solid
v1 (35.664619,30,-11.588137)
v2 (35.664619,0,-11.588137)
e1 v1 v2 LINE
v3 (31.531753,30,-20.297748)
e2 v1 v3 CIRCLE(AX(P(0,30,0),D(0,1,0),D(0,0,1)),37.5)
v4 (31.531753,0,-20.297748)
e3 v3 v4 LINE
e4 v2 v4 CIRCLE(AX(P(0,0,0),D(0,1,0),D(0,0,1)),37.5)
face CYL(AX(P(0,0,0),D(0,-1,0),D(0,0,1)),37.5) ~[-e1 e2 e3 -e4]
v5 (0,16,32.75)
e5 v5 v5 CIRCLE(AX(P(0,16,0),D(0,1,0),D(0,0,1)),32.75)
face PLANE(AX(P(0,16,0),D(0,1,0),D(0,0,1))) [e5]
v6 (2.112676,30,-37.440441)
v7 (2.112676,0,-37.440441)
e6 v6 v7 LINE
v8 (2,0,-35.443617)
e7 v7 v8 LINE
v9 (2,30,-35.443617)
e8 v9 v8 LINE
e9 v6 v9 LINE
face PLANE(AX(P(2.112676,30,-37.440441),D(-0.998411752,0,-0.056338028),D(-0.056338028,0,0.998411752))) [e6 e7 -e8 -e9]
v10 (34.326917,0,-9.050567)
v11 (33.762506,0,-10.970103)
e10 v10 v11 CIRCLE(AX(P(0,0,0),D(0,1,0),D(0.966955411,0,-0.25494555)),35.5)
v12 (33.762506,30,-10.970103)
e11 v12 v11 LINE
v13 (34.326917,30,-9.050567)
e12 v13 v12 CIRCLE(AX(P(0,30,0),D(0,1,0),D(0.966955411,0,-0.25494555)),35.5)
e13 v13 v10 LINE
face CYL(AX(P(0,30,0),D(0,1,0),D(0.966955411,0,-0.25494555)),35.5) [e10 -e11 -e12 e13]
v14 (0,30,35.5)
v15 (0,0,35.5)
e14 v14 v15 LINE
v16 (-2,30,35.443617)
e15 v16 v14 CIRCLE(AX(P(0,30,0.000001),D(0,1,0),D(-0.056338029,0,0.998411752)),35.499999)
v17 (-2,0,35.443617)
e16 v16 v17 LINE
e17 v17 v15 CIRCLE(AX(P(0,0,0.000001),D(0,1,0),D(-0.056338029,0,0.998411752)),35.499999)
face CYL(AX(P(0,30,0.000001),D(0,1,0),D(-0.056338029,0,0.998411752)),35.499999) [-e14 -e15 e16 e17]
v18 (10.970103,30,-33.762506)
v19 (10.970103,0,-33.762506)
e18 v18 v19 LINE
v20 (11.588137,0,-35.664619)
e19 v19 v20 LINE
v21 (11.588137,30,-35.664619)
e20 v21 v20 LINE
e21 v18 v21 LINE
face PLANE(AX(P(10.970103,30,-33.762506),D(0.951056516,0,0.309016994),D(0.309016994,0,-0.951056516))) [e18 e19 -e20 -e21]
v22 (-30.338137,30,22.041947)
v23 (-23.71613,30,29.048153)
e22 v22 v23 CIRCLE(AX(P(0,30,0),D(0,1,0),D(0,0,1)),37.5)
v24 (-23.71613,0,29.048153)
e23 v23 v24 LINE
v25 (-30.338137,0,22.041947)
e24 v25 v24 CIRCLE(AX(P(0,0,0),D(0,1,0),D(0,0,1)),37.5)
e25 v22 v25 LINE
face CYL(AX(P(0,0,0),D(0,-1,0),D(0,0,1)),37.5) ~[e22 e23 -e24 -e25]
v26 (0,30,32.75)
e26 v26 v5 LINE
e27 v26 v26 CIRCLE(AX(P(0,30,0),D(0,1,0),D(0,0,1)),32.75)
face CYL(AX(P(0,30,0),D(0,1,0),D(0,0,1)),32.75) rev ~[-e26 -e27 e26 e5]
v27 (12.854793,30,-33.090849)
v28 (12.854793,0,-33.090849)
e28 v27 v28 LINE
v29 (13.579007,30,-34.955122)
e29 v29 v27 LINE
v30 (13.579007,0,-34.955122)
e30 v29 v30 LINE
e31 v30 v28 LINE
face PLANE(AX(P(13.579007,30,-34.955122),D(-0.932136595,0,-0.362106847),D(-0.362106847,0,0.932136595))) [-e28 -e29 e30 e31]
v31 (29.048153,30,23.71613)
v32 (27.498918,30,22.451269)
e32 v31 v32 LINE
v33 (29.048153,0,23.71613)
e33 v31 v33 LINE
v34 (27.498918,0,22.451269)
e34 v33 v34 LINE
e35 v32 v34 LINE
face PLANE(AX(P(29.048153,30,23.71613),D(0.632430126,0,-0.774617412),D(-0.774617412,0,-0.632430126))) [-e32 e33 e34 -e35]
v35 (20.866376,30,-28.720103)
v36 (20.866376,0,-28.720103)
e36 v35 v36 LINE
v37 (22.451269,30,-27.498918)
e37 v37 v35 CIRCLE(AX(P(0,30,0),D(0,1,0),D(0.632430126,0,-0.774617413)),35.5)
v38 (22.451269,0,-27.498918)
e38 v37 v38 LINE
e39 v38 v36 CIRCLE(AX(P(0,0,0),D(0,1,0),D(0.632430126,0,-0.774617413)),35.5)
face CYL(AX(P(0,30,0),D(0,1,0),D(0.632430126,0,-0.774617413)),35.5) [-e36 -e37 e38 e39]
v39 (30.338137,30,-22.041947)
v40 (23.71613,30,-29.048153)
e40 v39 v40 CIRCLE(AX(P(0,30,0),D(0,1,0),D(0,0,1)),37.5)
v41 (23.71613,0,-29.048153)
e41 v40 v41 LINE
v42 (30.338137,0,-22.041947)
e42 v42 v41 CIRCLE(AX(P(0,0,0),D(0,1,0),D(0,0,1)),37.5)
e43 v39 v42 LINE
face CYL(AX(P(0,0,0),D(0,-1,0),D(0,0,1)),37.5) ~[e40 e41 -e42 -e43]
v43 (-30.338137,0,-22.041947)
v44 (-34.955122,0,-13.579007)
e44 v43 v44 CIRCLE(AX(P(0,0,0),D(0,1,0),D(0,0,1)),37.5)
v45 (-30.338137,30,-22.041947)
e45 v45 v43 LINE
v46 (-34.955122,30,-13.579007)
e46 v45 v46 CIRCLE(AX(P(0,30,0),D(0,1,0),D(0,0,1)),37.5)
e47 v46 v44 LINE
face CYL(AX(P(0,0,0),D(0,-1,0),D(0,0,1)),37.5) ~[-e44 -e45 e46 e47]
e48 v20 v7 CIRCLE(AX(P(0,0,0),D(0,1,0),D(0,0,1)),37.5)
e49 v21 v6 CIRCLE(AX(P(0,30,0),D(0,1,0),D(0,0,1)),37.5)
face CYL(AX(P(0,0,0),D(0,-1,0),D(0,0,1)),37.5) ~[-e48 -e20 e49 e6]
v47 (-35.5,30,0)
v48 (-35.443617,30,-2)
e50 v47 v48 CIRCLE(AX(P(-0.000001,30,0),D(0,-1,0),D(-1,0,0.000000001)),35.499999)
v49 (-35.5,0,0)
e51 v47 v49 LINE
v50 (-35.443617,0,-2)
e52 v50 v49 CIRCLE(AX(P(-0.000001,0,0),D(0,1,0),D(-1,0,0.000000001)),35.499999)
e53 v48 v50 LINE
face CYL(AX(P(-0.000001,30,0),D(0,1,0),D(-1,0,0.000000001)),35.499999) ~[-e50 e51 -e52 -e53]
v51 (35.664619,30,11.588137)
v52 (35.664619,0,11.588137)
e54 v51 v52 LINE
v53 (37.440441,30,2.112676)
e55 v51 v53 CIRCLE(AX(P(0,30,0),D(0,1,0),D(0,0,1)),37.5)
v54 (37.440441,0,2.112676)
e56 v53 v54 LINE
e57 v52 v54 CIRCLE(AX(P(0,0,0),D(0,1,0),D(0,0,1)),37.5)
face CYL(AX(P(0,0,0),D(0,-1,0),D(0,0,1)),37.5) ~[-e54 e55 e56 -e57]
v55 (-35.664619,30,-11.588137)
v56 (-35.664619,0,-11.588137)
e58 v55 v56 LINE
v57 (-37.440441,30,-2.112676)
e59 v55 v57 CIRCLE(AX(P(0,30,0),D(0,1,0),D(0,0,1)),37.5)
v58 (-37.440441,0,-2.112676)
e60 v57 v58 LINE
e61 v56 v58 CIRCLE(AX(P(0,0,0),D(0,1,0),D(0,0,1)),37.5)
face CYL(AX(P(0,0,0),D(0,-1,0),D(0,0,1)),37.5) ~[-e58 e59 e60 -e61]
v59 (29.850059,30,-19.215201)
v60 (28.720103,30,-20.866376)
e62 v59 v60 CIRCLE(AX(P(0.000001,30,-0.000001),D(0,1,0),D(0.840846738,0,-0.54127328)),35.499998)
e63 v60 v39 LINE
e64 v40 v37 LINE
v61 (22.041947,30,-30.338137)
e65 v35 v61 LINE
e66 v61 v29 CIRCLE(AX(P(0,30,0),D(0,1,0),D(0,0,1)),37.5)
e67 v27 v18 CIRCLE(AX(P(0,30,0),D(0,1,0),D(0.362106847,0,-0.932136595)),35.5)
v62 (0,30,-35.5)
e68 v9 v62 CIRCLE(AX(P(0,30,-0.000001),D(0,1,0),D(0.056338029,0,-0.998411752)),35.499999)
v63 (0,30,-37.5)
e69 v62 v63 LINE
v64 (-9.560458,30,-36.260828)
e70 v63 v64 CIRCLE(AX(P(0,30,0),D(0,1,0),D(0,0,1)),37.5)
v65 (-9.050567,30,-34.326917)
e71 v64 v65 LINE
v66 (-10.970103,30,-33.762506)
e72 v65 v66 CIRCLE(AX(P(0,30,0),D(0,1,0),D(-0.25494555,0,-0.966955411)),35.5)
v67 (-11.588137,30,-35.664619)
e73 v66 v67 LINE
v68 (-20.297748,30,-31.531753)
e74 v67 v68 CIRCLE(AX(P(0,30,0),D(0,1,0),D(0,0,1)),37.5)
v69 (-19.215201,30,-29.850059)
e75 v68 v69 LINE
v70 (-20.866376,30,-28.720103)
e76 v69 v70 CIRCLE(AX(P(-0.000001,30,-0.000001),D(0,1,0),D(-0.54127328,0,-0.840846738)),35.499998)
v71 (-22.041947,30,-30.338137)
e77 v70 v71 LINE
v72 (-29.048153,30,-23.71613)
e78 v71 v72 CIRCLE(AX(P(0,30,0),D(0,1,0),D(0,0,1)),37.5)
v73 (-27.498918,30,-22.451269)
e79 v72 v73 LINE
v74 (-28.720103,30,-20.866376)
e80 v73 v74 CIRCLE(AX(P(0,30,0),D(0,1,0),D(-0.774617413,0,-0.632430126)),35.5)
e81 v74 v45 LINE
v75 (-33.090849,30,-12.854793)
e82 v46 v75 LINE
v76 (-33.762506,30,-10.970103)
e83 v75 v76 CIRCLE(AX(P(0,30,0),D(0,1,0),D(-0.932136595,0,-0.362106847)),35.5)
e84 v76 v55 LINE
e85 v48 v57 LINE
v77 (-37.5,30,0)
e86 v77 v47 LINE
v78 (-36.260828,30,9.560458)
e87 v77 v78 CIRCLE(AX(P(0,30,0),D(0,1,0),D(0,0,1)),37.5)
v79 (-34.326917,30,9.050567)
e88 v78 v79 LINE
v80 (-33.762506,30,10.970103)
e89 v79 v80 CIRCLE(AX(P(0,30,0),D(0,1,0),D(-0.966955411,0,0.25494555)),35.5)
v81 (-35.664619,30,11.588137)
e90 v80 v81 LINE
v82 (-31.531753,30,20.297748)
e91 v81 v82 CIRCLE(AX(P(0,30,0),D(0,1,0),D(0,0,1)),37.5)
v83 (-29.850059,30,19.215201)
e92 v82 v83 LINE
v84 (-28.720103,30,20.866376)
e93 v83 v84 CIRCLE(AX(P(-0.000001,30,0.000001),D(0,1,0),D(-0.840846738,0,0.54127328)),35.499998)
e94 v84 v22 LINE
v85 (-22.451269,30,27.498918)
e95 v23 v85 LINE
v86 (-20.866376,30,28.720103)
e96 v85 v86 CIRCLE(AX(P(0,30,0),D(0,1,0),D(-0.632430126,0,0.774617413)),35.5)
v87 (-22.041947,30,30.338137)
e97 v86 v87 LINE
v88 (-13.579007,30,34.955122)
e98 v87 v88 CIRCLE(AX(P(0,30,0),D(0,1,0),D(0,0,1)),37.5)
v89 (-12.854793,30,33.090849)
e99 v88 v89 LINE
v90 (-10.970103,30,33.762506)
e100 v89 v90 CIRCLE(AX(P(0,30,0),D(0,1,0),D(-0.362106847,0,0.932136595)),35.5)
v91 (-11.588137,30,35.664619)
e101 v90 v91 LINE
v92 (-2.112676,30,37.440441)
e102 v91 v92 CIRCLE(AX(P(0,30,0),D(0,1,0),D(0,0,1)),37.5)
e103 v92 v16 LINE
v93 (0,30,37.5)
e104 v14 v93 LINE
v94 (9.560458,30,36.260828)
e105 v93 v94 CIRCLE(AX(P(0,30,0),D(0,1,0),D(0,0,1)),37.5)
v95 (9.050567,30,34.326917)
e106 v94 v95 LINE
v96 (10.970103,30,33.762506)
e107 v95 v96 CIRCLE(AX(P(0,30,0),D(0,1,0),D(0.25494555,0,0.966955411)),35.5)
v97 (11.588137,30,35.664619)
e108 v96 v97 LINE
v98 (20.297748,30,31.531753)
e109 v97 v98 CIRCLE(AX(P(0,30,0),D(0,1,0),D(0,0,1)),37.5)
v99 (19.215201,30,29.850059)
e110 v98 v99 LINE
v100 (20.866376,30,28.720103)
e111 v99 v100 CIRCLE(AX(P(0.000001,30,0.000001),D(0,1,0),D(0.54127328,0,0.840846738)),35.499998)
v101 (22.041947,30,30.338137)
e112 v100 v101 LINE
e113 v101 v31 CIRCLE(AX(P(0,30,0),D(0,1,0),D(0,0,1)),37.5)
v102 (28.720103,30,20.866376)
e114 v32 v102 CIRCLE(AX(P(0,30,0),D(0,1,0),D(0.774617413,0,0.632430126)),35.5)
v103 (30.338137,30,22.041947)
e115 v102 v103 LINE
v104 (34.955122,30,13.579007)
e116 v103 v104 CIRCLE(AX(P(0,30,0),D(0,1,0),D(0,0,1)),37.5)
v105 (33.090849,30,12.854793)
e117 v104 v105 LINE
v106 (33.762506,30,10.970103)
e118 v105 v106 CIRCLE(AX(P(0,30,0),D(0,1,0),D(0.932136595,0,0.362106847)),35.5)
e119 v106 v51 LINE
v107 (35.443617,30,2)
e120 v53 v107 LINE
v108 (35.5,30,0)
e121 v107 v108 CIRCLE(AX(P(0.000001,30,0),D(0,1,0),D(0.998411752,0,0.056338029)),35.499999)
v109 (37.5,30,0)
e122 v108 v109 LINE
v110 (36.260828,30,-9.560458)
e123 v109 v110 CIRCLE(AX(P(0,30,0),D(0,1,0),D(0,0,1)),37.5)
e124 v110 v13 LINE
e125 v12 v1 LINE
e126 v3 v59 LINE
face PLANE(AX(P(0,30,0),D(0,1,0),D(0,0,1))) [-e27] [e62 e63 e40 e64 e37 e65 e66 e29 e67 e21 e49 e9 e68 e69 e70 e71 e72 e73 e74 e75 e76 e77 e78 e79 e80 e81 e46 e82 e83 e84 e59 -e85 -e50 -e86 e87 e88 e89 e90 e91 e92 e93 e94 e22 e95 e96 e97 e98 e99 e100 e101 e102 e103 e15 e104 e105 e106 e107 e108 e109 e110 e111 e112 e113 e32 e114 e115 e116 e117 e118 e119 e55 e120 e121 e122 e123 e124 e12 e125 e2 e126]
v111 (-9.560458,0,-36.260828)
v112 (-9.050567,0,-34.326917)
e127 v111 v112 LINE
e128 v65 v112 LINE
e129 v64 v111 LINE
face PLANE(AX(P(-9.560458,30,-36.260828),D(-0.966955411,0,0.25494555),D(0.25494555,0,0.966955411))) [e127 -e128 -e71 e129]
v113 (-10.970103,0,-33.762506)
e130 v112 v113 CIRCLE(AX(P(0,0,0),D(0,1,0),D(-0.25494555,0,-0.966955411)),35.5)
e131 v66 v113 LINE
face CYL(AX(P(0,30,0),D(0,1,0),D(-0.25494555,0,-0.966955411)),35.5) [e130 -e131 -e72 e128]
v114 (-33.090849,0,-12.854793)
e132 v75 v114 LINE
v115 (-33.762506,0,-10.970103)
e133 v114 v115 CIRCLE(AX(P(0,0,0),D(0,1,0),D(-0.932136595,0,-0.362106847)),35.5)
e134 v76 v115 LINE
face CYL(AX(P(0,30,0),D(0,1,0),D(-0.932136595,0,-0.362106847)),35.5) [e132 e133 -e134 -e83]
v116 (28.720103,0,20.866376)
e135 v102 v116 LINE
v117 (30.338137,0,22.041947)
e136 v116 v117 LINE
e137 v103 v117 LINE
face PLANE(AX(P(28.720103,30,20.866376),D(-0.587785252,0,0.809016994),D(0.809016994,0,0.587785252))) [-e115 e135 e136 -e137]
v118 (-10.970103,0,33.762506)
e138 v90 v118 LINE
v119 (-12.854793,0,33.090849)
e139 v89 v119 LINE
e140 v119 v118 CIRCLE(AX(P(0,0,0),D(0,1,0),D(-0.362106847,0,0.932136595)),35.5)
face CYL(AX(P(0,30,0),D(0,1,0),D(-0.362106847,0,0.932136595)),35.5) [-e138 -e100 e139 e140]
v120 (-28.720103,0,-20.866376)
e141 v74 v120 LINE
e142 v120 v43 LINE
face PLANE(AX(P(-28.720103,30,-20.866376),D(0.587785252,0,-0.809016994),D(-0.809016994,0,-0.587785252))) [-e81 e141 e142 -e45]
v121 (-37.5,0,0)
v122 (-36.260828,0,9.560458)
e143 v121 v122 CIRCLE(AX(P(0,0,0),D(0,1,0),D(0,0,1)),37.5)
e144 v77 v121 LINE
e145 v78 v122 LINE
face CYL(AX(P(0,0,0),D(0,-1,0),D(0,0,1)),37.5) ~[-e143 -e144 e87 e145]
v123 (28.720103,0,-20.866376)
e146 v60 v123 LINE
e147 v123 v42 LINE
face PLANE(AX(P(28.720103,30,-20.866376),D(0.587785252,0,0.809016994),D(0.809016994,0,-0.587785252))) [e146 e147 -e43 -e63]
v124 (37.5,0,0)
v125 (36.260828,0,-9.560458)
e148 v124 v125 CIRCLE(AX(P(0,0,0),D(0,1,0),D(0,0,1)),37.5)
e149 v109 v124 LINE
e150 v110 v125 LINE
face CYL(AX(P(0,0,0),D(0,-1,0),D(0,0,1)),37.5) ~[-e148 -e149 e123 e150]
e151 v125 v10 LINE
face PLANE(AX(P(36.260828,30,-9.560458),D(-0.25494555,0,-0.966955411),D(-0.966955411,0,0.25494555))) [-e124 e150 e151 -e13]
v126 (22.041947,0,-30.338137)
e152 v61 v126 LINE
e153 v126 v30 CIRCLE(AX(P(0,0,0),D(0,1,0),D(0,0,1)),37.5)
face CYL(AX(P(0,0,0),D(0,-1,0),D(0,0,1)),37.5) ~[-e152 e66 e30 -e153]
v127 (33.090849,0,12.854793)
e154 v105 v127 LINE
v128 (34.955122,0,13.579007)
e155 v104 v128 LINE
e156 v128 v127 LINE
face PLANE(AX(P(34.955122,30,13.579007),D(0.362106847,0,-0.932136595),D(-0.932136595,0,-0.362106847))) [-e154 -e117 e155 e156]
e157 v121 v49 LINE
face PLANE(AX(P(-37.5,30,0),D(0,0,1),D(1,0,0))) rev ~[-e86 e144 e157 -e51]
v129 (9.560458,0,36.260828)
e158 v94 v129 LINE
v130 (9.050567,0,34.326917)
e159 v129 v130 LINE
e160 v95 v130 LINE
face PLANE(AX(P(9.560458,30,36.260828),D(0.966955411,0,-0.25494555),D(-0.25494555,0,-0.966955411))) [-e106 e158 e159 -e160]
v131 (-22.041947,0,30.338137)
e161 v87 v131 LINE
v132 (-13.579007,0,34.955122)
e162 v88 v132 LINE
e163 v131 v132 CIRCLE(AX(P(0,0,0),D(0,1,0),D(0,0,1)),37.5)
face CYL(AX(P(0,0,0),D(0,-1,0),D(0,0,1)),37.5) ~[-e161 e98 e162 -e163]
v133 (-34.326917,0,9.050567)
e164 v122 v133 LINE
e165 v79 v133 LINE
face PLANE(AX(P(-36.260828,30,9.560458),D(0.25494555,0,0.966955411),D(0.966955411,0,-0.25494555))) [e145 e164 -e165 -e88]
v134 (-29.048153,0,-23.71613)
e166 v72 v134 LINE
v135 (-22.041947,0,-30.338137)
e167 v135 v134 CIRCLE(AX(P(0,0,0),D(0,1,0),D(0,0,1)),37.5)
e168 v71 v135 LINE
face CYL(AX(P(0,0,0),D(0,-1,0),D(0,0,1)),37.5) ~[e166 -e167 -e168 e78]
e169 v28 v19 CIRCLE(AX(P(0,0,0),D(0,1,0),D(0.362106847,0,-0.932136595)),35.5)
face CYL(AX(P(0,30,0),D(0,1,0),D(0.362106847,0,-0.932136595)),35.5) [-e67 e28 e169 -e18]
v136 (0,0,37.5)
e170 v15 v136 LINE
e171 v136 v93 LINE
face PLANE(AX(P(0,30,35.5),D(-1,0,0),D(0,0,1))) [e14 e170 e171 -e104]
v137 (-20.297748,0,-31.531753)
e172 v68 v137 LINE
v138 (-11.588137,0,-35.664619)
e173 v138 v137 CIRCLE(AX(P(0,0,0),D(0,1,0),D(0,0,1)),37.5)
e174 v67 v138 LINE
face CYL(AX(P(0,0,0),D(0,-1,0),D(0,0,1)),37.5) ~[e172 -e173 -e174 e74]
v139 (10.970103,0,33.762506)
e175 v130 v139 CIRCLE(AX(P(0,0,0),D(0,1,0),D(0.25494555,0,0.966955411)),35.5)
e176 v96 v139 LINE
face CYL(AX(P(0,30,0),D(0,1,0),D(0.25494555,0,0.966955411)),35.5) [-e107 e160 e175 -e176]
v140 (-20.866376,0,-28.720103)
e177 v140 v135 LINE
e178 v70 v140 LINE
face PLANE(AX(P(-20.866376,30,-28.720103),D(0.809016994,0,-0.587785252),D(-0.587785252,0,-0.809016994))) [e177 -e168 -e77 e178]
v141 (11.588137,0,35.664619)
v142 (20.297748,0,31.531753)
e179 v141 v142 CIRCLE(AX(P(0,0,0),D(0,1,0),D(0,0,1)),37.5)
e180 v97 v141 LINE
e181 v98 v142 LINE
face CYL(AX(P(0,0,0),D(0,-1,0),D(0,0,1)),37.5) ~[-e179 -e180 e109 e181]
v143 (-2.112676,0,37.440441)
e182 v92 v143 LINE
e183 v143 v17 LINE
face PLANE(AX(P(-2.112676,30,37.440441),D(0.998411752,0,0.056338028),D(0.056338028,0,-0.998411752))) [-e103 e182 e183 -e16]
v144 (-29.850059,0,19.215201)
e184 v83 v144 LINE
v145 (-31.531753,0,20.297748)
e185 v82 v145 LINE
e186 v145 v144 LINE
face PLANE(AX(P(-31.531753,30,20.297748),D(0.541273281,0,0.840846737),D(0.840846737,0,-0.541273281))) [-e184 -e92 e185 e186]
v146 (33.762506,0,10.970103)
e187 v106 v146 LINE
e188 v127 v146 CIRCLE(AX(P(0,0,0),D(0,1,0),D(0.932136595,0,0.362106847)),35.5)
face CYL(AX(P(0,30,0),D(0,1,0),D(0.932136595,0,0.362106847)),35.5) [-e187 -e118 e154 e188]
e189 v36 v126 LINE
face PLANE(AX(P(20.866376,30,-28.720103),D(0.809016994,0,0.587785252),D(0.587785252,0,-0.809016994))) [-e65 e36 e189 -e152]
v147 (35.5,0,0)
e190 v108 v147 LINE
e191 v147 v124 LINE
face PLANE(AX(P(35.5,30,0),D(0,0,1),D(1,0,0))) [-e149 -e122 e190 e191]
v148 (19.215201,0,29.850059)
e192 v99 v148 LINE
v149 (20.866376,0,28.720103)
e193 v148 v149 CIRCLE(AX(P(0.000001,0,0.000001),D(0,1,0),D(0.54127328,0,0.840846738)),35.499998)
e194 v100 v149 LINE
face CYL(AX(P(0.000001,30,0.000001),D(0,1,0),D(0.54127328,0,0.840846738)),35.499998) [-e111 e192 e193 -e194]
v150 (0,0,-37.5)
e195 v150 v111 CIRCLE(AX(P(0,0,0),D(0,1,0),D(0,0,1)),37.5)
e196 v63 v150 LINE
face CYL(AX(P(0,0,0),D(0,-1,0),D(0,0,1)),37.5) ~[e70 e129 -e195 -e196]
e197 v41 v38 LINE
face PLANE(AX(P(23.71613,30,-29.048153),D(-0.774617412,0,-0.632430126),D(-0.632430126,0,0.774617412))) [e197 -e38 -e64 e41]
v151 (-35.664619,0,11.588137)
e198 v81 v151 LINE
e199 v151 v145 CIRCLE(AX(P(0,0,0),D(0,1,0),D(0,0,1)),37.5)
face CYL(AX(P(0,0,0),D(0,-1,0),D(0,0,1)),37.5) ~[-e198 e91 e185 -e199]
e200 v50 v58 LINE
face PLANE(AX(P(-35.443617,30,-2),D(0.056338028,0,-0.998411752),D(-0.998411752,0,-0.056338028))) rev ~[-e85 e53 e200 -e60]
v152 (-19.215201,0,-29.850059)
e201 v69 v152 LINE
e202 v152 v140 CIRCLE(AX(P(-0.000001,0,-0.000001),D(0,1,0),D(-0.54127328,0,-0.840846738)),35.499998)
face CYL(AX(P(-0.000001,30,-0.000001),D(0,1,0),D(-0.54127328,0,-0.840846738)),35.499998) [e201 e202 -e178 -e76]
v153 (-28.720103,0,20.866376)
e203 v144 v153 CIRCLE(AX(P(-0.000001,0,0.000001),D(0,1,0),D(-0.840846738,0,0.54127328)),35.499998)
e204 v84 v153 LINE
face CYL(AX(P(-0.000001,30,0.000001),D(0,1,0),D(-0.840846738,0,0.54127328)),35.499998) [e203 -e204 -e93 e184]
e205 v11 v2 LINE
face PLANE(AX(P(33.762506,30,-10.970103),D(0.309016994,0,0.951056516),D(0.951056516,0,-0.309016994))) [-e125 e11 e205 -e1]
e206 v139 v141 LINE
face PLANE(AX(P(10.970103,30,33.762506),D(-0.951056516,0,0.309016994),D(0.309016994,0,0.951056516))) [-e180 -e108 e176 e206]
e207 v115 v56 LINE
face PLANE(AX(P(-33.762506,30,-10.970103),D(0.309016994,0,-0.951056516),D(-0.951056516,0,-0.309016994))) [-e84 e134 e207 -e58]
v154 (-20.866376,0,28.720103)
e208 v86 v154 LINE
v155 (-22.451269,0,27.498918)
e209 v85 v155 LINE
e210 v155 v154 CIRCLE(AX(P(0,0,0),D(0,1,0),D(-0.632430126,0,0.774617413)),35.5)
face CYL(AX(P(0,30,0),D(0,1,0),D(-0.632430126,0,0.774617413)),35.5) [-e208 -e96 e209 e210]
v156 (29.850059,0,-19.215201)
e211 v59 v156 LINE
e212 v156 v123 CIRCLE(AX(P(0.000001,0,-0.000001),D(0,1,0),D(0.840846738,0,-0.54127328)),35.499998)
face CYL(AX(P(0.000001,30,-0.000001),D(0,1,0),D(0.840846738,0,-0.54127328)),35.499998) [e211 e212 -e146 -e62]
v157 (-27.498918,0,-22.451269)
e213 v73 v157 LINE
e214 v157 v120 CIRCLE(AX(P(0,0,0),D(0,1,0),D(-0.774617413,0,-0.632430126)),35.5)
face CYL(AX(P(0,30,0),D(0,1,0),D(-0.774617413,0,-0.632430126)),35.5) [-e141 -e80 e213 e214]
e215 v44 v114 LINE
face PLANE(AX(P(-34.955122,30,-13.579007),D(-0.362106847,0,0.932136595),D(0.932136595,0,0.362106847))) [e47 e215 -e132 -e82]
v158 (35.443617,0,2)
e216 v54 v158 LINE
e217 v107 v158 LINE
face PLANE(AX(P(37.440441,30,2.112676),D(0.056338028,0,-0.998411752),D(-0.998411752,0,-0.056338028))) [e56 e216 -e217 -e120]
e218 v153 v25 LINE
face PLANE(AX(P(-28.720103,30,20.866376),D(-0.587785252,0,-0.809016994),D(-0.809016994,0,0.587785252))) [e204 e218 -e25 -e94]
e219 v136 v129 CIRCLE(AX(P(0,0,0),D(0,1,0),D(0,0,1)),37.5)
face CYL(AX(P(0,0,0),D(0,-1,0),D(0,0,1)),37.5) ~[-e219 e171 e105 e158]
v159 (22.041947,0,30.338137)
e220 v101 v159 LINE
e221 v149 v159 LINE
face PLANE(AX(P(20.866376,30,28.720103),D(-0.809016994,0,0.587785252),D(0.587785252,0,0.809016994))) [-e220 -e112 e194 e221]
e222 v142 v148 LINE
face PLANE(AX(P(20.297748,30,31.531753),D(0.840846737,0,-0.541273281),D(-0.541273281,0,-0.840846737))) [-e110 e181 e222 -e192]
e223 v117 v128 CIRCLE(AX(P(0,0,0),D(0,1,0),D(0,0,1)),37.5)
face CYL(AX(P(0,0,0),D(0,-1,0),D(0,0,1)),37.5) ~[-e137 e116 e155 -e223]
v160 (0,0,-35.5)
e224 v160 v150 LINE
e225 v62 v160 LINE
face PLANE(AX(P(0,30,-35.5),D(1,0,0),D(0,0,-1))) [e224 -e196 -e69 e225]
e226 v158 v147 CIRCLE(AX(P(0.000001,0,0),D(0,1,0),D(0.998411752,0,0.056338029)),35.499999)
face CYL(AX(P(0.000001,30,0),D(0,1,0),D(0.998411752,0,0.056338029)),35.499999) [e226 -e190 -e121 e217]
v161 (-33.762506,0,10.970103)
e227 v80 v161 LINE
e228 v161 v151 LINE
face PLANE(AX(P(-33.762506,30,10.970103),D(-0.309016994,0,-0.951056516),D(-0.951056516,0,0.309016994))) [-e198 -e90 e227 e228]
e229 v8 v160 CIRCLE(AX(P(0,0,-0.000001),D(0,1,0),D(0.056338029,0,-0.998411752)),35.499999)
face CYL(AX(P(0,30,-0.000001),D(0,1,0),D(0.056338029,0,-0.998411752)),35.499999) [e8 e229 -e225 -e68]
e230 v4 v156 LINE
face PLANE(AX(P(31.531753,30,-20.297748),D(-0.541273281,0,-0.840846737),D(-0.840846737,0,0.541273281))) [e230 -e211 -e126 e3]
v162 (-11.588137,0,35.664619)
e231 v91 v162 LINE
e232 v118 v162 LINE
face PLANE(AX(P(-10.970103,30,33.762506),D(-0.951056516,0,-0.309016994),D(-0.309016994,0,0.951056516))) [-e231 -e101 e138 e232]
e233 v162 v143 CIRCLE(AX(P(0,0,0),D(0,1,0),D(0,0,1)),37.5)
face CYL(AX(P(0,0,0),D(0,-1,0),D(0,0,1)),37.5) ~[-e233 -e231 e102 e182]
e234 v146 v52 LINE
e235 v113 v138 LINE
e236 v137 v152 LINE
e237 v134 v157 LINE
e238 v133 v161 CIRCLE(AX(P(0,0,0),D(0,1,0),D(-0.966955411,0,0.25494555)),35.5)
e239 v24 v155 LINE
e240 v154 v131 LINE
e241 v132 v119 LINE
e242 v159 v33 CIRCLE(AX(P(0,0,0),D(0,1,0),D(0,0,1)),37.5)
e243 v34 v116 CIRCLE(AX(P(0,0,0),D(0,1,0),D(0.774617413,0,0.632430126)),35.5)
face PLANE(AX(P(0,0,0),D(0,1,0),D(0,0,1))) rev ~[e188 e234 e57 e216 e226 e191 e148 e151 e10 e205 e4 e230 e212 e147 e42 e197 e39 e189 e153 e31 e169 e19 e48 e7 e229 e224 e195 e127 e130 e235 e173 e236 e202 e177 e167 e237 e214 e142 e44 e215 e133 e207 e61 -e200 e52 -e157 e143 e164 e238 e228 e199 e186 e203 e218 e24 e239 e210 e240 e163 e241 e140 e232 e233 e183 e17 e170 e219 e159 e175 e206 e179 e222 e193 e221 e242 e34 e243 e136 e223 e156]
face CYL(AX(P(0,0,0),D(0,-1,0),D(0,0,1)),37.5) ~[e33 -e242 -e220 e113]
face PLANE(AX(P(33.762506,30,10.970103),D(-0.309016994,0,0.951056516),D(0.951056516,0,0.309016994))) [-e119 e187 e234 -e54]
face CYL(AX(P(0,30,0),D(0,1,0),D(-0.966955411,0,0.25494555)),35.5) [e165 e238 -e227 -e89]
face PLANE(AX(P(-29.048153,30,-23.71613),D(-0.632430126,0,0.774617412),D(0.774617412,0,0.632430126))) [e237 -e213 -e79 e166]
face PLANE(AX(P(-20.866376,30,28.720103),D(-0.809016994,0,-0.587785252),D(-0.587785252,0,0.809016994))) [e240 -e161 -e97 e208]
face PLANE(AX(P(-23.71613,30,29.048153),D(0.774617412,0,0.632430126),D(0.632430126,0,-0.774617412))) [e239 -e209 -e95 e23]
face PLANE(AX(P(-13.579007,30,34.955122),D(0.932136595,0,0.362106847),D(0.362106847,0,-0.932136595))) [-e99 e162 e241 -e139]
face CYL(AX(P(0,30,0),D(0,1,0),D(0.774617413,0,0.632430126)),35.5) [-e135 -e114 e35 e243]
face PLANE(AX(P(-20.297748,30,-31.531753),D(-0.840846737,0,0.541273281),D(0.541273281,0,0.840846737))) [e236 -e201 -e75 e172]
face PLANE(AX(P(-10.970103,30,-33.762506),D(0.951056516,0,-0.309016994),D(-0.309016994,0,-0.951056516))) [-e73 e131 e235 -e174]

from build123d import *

# Parameters (mm, degrees)
SKETCH_1_R          = 37.5
EXTRUDE_1_DEPTH     = 30
SKETCH_2_R          = 32.75
CUT_EXTRUDE_1_DEPTH = 14
CUT_EXTRUDE_2_DEPTH = 61.930288035


with BuildPart() as part:
    # 草图1 → 凸台-拉伸1 (new body)
    with BuildSketch(Plane(origin=(0, 0, 0), x_dir=(1, 0, 0), z_dir=(0, 1, 0))):
        with Locations(Location((0, 0, 0), (0, 0, 270))):
            Circle(SKETCH_1_R)
    extrude(amount=EXTRUDE_1_DEPTH)

    # 草图2 → 切除-拉伸1 (cut)
    with BuildSketch(Plane(origin=(0, 30, 0), x_dir=(1, 0, 0), z_dir=(0, 1, 0))):
        with Locations(Location((0, 0, 0), (0, 0, 270))):
            Circle(SKETCH_2_R)
    extrude(amount=-CUT_EXTRUDE_1_DEPTH, mode=Mode.SUBTRACT)

    # 草图3 → 切除-拉伸2 (cut, through all)
    with BuildSketch(Plane(origin=(0, 30, 0), x_dir=(1, 0, 0), z_dir=(0, 1, 0))):
        with BuildLine():
            Line((-35.443617197, 2), (-37.440440701, 2.112676056))
            ThreePointArc((-37.440440701, 2.112676056), (-37.485107218, 1.05675771), (-37.5, 0))
            Line((-37.5, 0), (-35.5, 0))
            ThreePointArc((-35.5, 0), (-35.4859015, 1.000397299), (-35.443617197, 2))
        make_face()
        with BuildLine():
            Line((-33.762506328, 10.9701033), (-35.664619361, 11.588137289))
            ThreePointArc((-35.664619361, 11.588137289), (-35.323899392, 12.588571472), (-34.955122297, 13.579006784))
            Line((-34.955122297, 13.579006784), (-33.090849107, 12.854793089))
            ThreePointArc((-33.090849107, 12.854793089), (-33.439958091, 11.917180994), (-33.762506328, 10.9701033))
        make_face()
        with BuildLine():
            Line((-28.7201033, 20.866376456), (-30.338137289, 22.041946961))
            ThreePointArc((-30.338137289, 22.041946961), (-29.704942178, 22.88812815), (-29.048152975, 23.716129717))
            Line((-29.048152975, 23.716129717), (-27.49891815, 22.451269465))
            ThreePointArc((-27.49891815, 22.451269465), (-28.120678595, 21.667427982), (-28.7201033, 20.866376456))
        make_face()
        with BuildLine():
            Line((-20.866376456, 28.7201033), (-22.041946961, 30.338137289))
            ThreePointArc((-22.041946961, 30.338137289), (-21.178258257, 30.947235372), (-20.29774805, 31.531752633))
            Line((-20.29774805, 31.531752633), (-19.215201487, 29.850059159))
            ThreePointArc((-19.215201487, 29.850059159), (-20.04875115, 29.296716153), (-20.866376456, 28.7201033))
        make_face()
        with BuildLine():
            Line((-10.9701033, 33.762506328), (-11.588137289, 35.664619361))
            ThreePointArc((-11.588137289, 35.664619361), (-10.57849886, 35.977011575), (-9.560458123, 36.260827907))
            Line((-9.560458123, 36.260827907), (-9.050567023, 34.326917085))
            ThreePointArc((-9.050567023, 34.326917085), (-10.014312254, 34.058237624), (-10.9701033, 33.762506328))
        make_face()
        with BuildLine():
            Line((0, 35.5), (0, 37.5))
            ThreePointArc((0, 37.5), (1.05675771, 37.485107218), (2.112676056, 37.440440701))
            Line((2.112676056, 37.440440701), (2, 35.443617197))
            ThreePointArc((2, 35.443617197), (1.000397299, 35.4859015), (0, 35.5))
        make_face()
        with BuildLine():
            Line((10.9701033, 33.762506328), (11.588137289, 35.664619361))
            ThreePointArc((11.588137289, 35.664619361), (12.588571472, 35.323899392), (13.579006784, 34.955122297))
            Line((13.579006784, 34.955122297), (12.854793089, 33.090849107))
            ThreePointArc((12.854793089, 33.090849107), (11.917180994, 33.439958091), (10.9701033, 33.762506328))
        make_face()
        with BuildLine():
            Line((20.866376456, 28.7201033), (22.041946961, 30.338137289))
            ThreePointArc((22.041946961, 30.338137289), (22.88812815, 29.704942178), (23.716129717, 29.048152975))
            Line((23.716129717, 29.048152975), (22.451269465, 27.49891815))
            ThreePointArc((22.451269465, 27.49891815), (21.667427982, 28.120678595), (20.866376456, 28.7201033))
        make_face()
        with BuildLine():
            Line((28.7201033, 20.866376456), (30.338137289, 22.041946961))
            ThreePointArc((30.338137289, 22.041946961), (30.947235372, 21.178258257), (31.531752633, 20.29774805))
            Line((31.531752633, 20.29774805), (29.850059159, 19.215201487))
            ThreePointArc((29.850059159, 19.215201487), (29.296716153, 20.04875115), (28.7201033, 20.866376456))
        make_face()
        with BuildLine():
            Line((33.762506328, 10.9701033), (35.664619361, 11.588137289))
            ThreePointArc((35.664619361, 11.588137289), (35.977011575, 10.57849886), (36.260827907, 9.560458123))
            Line((36.260827907, 9.560458123), (34.326917085, 9.050567023))
            ThreePointArc((34.326917085, 9.050567023), (34.058237624, 10.014312254), (33.762506328, 10.9701033))
        make_face()
        with BuildLine():
            Line((35.5, 0), (37.5, 0))
            ThreePointArc((37.5, 0), (37.485107218, -1.05675771), (37.440440701, -2.112676056))
            Line((37.440440701, -2.112676056), (35.443617197, -2))
            ThreePointArc((35.443617197, -2), (35.4859015, -1.000397299), (35.5, 0))
        make_face()
        with BuildLine():
            Line((33.762506328, -10.9701033), (35.664619361, -11.588137289))
            ThreePointArc((35.664619361, -11.588137289), (35.323899392, -12.588571472), (34.955122297, -13.579006784))
            Line((34.955122297, -13.579006784), (33.090849107, -12.854793089))
            ThreePointArc((33.090849107, -12.854793089), (33.439958091, -11.917180994), (33.762506328, -10.9701033))
        make_face()
        with BuildLine():
            Line((28.7201033, -20.866376456), (30.338137289, -22.041946961))
            ThreePointArc((30.338137289, -22.041946961), (29.704942178, -22.88812815), (29.048152975, -23.716129717))
            Line((29.048152975, -23.716129717), (27.49891815, -22.451269465))
            ThreePointArc((27.49891815, -22.451269465), (28.120678595, -21.667427982), (28.7201033, -20.866376456))
        make_face()
        with BuildLine():
            Line((20.866376456, -28.7201033), (22.041946961, -30.338137289))
            ThreePointArc((22.041946961, -30.338137289), (21.178258257, -30.947235372), (20.29774805, -31.531752633))
            Line((20.29774805, -31.531752633), (19.215201487, -29.850059159))
            ThreePointArc((19.215201487, -29.850059159), (20.04875115, -29.296716153), (20.866376456, -28.7201033))
        make_face()
        with BuildLine():
            Line((10.9701033, -33.762506328), (11.588137289, -35.664619361))
            ThreePointArc((11.588137289, -35.664619361), (10.57849886, -35.977011575), (9.560458123, -36.260827907))
            Line((9.560458123, -36.260827907), (9.050567023, -34.326917085))
            ThreePointArc((9.050567023, -34.326917085), (10.014312254, -34.058237624), (10.9701033, -33.762506328))
        make_face()
        with BuildLine():
            Line((0, -35.5), (0, -37.5))
            ThreePointArc((0, -37.5), (-1.05675771, -37.485107218), (-2.112676056, -37.440440701))
            Line((-2.112676056, -37.440440701), (-2, -35.443617197))
            ThreePointArc((-2, -35.443617197), (-1.000397299, -35.4859015), (0, -35.5))
        make_face()
        with BuildLine():
            Line((-10.9701033, -33.762506328), (-11.588137289, -35.664619361))
            ThreePointArc((-11.588137289, -35.664619361), (-12.588571472, -35.323899392), (-13.579006784, -34.955122297))
            Line((-13.579006784, -34.955122297), (-12.854793089, -33.090849107))
            ThreePointArc((-12.854793089, -33.090849107), (-11.917180994, -33.439958091), (-10.9701033, -33.762506328))
        make_face()
        with BuildLine():
            Line((-20.866376456, -28.7201033), (-22.041946961, -30.338137289))
            ThreePointArc((-22.041946961, -30.338137289), (-22.88812815, -29.704942178), (-23.716129717, -29.048152975))
            Line((-23.716129717, -29.048152975), (-22.451269465, -27.49891815))
            ThreePointArc((-22.451269465, -27.49891815), (-21.667427982, -28.120678595), (-20.866376456, -28.7201033))
        make_face()
        with BuildLine():
            Line((-28.7201033, -20.866376456), (-30.338137289, -22.041946961))
            ThreePointArc((-30.338137289, -22.041946961), (-30.947235372, -21.178258257), (-31.531752633, -20.29774805))
            Line((-31.531752633, -20.29774805), (-29.850059159, -19.215201487))
            ThreePointArc((-29.850059159, -19.215201487), (-29.296716153, -20.04875115), (-28.7201033, -20.866376456))
        make_face()
        with BuildLine():
            Line((-33.762506328, -10.9701033), (-35.664619361, -11.588137289))
            ThreePointArc((-35.664619361, -11.588137289), (-35.977011575, -10.57849886), (-36.260827907, -9.560458123))
            Line((-36.260827907, -9.560458123), (-34.326917085, -9.050567023))
            ThreePointArc((-34.326917085, -9.050567023), (-34.058237624, -10.014312254), (-33.762506328, -10.9701033))
        make_face()
    extrude(amount=-CUT_EXTRUDE_2_DEPTH, mode=Mode.SUBTRACT)


solid = part.part
